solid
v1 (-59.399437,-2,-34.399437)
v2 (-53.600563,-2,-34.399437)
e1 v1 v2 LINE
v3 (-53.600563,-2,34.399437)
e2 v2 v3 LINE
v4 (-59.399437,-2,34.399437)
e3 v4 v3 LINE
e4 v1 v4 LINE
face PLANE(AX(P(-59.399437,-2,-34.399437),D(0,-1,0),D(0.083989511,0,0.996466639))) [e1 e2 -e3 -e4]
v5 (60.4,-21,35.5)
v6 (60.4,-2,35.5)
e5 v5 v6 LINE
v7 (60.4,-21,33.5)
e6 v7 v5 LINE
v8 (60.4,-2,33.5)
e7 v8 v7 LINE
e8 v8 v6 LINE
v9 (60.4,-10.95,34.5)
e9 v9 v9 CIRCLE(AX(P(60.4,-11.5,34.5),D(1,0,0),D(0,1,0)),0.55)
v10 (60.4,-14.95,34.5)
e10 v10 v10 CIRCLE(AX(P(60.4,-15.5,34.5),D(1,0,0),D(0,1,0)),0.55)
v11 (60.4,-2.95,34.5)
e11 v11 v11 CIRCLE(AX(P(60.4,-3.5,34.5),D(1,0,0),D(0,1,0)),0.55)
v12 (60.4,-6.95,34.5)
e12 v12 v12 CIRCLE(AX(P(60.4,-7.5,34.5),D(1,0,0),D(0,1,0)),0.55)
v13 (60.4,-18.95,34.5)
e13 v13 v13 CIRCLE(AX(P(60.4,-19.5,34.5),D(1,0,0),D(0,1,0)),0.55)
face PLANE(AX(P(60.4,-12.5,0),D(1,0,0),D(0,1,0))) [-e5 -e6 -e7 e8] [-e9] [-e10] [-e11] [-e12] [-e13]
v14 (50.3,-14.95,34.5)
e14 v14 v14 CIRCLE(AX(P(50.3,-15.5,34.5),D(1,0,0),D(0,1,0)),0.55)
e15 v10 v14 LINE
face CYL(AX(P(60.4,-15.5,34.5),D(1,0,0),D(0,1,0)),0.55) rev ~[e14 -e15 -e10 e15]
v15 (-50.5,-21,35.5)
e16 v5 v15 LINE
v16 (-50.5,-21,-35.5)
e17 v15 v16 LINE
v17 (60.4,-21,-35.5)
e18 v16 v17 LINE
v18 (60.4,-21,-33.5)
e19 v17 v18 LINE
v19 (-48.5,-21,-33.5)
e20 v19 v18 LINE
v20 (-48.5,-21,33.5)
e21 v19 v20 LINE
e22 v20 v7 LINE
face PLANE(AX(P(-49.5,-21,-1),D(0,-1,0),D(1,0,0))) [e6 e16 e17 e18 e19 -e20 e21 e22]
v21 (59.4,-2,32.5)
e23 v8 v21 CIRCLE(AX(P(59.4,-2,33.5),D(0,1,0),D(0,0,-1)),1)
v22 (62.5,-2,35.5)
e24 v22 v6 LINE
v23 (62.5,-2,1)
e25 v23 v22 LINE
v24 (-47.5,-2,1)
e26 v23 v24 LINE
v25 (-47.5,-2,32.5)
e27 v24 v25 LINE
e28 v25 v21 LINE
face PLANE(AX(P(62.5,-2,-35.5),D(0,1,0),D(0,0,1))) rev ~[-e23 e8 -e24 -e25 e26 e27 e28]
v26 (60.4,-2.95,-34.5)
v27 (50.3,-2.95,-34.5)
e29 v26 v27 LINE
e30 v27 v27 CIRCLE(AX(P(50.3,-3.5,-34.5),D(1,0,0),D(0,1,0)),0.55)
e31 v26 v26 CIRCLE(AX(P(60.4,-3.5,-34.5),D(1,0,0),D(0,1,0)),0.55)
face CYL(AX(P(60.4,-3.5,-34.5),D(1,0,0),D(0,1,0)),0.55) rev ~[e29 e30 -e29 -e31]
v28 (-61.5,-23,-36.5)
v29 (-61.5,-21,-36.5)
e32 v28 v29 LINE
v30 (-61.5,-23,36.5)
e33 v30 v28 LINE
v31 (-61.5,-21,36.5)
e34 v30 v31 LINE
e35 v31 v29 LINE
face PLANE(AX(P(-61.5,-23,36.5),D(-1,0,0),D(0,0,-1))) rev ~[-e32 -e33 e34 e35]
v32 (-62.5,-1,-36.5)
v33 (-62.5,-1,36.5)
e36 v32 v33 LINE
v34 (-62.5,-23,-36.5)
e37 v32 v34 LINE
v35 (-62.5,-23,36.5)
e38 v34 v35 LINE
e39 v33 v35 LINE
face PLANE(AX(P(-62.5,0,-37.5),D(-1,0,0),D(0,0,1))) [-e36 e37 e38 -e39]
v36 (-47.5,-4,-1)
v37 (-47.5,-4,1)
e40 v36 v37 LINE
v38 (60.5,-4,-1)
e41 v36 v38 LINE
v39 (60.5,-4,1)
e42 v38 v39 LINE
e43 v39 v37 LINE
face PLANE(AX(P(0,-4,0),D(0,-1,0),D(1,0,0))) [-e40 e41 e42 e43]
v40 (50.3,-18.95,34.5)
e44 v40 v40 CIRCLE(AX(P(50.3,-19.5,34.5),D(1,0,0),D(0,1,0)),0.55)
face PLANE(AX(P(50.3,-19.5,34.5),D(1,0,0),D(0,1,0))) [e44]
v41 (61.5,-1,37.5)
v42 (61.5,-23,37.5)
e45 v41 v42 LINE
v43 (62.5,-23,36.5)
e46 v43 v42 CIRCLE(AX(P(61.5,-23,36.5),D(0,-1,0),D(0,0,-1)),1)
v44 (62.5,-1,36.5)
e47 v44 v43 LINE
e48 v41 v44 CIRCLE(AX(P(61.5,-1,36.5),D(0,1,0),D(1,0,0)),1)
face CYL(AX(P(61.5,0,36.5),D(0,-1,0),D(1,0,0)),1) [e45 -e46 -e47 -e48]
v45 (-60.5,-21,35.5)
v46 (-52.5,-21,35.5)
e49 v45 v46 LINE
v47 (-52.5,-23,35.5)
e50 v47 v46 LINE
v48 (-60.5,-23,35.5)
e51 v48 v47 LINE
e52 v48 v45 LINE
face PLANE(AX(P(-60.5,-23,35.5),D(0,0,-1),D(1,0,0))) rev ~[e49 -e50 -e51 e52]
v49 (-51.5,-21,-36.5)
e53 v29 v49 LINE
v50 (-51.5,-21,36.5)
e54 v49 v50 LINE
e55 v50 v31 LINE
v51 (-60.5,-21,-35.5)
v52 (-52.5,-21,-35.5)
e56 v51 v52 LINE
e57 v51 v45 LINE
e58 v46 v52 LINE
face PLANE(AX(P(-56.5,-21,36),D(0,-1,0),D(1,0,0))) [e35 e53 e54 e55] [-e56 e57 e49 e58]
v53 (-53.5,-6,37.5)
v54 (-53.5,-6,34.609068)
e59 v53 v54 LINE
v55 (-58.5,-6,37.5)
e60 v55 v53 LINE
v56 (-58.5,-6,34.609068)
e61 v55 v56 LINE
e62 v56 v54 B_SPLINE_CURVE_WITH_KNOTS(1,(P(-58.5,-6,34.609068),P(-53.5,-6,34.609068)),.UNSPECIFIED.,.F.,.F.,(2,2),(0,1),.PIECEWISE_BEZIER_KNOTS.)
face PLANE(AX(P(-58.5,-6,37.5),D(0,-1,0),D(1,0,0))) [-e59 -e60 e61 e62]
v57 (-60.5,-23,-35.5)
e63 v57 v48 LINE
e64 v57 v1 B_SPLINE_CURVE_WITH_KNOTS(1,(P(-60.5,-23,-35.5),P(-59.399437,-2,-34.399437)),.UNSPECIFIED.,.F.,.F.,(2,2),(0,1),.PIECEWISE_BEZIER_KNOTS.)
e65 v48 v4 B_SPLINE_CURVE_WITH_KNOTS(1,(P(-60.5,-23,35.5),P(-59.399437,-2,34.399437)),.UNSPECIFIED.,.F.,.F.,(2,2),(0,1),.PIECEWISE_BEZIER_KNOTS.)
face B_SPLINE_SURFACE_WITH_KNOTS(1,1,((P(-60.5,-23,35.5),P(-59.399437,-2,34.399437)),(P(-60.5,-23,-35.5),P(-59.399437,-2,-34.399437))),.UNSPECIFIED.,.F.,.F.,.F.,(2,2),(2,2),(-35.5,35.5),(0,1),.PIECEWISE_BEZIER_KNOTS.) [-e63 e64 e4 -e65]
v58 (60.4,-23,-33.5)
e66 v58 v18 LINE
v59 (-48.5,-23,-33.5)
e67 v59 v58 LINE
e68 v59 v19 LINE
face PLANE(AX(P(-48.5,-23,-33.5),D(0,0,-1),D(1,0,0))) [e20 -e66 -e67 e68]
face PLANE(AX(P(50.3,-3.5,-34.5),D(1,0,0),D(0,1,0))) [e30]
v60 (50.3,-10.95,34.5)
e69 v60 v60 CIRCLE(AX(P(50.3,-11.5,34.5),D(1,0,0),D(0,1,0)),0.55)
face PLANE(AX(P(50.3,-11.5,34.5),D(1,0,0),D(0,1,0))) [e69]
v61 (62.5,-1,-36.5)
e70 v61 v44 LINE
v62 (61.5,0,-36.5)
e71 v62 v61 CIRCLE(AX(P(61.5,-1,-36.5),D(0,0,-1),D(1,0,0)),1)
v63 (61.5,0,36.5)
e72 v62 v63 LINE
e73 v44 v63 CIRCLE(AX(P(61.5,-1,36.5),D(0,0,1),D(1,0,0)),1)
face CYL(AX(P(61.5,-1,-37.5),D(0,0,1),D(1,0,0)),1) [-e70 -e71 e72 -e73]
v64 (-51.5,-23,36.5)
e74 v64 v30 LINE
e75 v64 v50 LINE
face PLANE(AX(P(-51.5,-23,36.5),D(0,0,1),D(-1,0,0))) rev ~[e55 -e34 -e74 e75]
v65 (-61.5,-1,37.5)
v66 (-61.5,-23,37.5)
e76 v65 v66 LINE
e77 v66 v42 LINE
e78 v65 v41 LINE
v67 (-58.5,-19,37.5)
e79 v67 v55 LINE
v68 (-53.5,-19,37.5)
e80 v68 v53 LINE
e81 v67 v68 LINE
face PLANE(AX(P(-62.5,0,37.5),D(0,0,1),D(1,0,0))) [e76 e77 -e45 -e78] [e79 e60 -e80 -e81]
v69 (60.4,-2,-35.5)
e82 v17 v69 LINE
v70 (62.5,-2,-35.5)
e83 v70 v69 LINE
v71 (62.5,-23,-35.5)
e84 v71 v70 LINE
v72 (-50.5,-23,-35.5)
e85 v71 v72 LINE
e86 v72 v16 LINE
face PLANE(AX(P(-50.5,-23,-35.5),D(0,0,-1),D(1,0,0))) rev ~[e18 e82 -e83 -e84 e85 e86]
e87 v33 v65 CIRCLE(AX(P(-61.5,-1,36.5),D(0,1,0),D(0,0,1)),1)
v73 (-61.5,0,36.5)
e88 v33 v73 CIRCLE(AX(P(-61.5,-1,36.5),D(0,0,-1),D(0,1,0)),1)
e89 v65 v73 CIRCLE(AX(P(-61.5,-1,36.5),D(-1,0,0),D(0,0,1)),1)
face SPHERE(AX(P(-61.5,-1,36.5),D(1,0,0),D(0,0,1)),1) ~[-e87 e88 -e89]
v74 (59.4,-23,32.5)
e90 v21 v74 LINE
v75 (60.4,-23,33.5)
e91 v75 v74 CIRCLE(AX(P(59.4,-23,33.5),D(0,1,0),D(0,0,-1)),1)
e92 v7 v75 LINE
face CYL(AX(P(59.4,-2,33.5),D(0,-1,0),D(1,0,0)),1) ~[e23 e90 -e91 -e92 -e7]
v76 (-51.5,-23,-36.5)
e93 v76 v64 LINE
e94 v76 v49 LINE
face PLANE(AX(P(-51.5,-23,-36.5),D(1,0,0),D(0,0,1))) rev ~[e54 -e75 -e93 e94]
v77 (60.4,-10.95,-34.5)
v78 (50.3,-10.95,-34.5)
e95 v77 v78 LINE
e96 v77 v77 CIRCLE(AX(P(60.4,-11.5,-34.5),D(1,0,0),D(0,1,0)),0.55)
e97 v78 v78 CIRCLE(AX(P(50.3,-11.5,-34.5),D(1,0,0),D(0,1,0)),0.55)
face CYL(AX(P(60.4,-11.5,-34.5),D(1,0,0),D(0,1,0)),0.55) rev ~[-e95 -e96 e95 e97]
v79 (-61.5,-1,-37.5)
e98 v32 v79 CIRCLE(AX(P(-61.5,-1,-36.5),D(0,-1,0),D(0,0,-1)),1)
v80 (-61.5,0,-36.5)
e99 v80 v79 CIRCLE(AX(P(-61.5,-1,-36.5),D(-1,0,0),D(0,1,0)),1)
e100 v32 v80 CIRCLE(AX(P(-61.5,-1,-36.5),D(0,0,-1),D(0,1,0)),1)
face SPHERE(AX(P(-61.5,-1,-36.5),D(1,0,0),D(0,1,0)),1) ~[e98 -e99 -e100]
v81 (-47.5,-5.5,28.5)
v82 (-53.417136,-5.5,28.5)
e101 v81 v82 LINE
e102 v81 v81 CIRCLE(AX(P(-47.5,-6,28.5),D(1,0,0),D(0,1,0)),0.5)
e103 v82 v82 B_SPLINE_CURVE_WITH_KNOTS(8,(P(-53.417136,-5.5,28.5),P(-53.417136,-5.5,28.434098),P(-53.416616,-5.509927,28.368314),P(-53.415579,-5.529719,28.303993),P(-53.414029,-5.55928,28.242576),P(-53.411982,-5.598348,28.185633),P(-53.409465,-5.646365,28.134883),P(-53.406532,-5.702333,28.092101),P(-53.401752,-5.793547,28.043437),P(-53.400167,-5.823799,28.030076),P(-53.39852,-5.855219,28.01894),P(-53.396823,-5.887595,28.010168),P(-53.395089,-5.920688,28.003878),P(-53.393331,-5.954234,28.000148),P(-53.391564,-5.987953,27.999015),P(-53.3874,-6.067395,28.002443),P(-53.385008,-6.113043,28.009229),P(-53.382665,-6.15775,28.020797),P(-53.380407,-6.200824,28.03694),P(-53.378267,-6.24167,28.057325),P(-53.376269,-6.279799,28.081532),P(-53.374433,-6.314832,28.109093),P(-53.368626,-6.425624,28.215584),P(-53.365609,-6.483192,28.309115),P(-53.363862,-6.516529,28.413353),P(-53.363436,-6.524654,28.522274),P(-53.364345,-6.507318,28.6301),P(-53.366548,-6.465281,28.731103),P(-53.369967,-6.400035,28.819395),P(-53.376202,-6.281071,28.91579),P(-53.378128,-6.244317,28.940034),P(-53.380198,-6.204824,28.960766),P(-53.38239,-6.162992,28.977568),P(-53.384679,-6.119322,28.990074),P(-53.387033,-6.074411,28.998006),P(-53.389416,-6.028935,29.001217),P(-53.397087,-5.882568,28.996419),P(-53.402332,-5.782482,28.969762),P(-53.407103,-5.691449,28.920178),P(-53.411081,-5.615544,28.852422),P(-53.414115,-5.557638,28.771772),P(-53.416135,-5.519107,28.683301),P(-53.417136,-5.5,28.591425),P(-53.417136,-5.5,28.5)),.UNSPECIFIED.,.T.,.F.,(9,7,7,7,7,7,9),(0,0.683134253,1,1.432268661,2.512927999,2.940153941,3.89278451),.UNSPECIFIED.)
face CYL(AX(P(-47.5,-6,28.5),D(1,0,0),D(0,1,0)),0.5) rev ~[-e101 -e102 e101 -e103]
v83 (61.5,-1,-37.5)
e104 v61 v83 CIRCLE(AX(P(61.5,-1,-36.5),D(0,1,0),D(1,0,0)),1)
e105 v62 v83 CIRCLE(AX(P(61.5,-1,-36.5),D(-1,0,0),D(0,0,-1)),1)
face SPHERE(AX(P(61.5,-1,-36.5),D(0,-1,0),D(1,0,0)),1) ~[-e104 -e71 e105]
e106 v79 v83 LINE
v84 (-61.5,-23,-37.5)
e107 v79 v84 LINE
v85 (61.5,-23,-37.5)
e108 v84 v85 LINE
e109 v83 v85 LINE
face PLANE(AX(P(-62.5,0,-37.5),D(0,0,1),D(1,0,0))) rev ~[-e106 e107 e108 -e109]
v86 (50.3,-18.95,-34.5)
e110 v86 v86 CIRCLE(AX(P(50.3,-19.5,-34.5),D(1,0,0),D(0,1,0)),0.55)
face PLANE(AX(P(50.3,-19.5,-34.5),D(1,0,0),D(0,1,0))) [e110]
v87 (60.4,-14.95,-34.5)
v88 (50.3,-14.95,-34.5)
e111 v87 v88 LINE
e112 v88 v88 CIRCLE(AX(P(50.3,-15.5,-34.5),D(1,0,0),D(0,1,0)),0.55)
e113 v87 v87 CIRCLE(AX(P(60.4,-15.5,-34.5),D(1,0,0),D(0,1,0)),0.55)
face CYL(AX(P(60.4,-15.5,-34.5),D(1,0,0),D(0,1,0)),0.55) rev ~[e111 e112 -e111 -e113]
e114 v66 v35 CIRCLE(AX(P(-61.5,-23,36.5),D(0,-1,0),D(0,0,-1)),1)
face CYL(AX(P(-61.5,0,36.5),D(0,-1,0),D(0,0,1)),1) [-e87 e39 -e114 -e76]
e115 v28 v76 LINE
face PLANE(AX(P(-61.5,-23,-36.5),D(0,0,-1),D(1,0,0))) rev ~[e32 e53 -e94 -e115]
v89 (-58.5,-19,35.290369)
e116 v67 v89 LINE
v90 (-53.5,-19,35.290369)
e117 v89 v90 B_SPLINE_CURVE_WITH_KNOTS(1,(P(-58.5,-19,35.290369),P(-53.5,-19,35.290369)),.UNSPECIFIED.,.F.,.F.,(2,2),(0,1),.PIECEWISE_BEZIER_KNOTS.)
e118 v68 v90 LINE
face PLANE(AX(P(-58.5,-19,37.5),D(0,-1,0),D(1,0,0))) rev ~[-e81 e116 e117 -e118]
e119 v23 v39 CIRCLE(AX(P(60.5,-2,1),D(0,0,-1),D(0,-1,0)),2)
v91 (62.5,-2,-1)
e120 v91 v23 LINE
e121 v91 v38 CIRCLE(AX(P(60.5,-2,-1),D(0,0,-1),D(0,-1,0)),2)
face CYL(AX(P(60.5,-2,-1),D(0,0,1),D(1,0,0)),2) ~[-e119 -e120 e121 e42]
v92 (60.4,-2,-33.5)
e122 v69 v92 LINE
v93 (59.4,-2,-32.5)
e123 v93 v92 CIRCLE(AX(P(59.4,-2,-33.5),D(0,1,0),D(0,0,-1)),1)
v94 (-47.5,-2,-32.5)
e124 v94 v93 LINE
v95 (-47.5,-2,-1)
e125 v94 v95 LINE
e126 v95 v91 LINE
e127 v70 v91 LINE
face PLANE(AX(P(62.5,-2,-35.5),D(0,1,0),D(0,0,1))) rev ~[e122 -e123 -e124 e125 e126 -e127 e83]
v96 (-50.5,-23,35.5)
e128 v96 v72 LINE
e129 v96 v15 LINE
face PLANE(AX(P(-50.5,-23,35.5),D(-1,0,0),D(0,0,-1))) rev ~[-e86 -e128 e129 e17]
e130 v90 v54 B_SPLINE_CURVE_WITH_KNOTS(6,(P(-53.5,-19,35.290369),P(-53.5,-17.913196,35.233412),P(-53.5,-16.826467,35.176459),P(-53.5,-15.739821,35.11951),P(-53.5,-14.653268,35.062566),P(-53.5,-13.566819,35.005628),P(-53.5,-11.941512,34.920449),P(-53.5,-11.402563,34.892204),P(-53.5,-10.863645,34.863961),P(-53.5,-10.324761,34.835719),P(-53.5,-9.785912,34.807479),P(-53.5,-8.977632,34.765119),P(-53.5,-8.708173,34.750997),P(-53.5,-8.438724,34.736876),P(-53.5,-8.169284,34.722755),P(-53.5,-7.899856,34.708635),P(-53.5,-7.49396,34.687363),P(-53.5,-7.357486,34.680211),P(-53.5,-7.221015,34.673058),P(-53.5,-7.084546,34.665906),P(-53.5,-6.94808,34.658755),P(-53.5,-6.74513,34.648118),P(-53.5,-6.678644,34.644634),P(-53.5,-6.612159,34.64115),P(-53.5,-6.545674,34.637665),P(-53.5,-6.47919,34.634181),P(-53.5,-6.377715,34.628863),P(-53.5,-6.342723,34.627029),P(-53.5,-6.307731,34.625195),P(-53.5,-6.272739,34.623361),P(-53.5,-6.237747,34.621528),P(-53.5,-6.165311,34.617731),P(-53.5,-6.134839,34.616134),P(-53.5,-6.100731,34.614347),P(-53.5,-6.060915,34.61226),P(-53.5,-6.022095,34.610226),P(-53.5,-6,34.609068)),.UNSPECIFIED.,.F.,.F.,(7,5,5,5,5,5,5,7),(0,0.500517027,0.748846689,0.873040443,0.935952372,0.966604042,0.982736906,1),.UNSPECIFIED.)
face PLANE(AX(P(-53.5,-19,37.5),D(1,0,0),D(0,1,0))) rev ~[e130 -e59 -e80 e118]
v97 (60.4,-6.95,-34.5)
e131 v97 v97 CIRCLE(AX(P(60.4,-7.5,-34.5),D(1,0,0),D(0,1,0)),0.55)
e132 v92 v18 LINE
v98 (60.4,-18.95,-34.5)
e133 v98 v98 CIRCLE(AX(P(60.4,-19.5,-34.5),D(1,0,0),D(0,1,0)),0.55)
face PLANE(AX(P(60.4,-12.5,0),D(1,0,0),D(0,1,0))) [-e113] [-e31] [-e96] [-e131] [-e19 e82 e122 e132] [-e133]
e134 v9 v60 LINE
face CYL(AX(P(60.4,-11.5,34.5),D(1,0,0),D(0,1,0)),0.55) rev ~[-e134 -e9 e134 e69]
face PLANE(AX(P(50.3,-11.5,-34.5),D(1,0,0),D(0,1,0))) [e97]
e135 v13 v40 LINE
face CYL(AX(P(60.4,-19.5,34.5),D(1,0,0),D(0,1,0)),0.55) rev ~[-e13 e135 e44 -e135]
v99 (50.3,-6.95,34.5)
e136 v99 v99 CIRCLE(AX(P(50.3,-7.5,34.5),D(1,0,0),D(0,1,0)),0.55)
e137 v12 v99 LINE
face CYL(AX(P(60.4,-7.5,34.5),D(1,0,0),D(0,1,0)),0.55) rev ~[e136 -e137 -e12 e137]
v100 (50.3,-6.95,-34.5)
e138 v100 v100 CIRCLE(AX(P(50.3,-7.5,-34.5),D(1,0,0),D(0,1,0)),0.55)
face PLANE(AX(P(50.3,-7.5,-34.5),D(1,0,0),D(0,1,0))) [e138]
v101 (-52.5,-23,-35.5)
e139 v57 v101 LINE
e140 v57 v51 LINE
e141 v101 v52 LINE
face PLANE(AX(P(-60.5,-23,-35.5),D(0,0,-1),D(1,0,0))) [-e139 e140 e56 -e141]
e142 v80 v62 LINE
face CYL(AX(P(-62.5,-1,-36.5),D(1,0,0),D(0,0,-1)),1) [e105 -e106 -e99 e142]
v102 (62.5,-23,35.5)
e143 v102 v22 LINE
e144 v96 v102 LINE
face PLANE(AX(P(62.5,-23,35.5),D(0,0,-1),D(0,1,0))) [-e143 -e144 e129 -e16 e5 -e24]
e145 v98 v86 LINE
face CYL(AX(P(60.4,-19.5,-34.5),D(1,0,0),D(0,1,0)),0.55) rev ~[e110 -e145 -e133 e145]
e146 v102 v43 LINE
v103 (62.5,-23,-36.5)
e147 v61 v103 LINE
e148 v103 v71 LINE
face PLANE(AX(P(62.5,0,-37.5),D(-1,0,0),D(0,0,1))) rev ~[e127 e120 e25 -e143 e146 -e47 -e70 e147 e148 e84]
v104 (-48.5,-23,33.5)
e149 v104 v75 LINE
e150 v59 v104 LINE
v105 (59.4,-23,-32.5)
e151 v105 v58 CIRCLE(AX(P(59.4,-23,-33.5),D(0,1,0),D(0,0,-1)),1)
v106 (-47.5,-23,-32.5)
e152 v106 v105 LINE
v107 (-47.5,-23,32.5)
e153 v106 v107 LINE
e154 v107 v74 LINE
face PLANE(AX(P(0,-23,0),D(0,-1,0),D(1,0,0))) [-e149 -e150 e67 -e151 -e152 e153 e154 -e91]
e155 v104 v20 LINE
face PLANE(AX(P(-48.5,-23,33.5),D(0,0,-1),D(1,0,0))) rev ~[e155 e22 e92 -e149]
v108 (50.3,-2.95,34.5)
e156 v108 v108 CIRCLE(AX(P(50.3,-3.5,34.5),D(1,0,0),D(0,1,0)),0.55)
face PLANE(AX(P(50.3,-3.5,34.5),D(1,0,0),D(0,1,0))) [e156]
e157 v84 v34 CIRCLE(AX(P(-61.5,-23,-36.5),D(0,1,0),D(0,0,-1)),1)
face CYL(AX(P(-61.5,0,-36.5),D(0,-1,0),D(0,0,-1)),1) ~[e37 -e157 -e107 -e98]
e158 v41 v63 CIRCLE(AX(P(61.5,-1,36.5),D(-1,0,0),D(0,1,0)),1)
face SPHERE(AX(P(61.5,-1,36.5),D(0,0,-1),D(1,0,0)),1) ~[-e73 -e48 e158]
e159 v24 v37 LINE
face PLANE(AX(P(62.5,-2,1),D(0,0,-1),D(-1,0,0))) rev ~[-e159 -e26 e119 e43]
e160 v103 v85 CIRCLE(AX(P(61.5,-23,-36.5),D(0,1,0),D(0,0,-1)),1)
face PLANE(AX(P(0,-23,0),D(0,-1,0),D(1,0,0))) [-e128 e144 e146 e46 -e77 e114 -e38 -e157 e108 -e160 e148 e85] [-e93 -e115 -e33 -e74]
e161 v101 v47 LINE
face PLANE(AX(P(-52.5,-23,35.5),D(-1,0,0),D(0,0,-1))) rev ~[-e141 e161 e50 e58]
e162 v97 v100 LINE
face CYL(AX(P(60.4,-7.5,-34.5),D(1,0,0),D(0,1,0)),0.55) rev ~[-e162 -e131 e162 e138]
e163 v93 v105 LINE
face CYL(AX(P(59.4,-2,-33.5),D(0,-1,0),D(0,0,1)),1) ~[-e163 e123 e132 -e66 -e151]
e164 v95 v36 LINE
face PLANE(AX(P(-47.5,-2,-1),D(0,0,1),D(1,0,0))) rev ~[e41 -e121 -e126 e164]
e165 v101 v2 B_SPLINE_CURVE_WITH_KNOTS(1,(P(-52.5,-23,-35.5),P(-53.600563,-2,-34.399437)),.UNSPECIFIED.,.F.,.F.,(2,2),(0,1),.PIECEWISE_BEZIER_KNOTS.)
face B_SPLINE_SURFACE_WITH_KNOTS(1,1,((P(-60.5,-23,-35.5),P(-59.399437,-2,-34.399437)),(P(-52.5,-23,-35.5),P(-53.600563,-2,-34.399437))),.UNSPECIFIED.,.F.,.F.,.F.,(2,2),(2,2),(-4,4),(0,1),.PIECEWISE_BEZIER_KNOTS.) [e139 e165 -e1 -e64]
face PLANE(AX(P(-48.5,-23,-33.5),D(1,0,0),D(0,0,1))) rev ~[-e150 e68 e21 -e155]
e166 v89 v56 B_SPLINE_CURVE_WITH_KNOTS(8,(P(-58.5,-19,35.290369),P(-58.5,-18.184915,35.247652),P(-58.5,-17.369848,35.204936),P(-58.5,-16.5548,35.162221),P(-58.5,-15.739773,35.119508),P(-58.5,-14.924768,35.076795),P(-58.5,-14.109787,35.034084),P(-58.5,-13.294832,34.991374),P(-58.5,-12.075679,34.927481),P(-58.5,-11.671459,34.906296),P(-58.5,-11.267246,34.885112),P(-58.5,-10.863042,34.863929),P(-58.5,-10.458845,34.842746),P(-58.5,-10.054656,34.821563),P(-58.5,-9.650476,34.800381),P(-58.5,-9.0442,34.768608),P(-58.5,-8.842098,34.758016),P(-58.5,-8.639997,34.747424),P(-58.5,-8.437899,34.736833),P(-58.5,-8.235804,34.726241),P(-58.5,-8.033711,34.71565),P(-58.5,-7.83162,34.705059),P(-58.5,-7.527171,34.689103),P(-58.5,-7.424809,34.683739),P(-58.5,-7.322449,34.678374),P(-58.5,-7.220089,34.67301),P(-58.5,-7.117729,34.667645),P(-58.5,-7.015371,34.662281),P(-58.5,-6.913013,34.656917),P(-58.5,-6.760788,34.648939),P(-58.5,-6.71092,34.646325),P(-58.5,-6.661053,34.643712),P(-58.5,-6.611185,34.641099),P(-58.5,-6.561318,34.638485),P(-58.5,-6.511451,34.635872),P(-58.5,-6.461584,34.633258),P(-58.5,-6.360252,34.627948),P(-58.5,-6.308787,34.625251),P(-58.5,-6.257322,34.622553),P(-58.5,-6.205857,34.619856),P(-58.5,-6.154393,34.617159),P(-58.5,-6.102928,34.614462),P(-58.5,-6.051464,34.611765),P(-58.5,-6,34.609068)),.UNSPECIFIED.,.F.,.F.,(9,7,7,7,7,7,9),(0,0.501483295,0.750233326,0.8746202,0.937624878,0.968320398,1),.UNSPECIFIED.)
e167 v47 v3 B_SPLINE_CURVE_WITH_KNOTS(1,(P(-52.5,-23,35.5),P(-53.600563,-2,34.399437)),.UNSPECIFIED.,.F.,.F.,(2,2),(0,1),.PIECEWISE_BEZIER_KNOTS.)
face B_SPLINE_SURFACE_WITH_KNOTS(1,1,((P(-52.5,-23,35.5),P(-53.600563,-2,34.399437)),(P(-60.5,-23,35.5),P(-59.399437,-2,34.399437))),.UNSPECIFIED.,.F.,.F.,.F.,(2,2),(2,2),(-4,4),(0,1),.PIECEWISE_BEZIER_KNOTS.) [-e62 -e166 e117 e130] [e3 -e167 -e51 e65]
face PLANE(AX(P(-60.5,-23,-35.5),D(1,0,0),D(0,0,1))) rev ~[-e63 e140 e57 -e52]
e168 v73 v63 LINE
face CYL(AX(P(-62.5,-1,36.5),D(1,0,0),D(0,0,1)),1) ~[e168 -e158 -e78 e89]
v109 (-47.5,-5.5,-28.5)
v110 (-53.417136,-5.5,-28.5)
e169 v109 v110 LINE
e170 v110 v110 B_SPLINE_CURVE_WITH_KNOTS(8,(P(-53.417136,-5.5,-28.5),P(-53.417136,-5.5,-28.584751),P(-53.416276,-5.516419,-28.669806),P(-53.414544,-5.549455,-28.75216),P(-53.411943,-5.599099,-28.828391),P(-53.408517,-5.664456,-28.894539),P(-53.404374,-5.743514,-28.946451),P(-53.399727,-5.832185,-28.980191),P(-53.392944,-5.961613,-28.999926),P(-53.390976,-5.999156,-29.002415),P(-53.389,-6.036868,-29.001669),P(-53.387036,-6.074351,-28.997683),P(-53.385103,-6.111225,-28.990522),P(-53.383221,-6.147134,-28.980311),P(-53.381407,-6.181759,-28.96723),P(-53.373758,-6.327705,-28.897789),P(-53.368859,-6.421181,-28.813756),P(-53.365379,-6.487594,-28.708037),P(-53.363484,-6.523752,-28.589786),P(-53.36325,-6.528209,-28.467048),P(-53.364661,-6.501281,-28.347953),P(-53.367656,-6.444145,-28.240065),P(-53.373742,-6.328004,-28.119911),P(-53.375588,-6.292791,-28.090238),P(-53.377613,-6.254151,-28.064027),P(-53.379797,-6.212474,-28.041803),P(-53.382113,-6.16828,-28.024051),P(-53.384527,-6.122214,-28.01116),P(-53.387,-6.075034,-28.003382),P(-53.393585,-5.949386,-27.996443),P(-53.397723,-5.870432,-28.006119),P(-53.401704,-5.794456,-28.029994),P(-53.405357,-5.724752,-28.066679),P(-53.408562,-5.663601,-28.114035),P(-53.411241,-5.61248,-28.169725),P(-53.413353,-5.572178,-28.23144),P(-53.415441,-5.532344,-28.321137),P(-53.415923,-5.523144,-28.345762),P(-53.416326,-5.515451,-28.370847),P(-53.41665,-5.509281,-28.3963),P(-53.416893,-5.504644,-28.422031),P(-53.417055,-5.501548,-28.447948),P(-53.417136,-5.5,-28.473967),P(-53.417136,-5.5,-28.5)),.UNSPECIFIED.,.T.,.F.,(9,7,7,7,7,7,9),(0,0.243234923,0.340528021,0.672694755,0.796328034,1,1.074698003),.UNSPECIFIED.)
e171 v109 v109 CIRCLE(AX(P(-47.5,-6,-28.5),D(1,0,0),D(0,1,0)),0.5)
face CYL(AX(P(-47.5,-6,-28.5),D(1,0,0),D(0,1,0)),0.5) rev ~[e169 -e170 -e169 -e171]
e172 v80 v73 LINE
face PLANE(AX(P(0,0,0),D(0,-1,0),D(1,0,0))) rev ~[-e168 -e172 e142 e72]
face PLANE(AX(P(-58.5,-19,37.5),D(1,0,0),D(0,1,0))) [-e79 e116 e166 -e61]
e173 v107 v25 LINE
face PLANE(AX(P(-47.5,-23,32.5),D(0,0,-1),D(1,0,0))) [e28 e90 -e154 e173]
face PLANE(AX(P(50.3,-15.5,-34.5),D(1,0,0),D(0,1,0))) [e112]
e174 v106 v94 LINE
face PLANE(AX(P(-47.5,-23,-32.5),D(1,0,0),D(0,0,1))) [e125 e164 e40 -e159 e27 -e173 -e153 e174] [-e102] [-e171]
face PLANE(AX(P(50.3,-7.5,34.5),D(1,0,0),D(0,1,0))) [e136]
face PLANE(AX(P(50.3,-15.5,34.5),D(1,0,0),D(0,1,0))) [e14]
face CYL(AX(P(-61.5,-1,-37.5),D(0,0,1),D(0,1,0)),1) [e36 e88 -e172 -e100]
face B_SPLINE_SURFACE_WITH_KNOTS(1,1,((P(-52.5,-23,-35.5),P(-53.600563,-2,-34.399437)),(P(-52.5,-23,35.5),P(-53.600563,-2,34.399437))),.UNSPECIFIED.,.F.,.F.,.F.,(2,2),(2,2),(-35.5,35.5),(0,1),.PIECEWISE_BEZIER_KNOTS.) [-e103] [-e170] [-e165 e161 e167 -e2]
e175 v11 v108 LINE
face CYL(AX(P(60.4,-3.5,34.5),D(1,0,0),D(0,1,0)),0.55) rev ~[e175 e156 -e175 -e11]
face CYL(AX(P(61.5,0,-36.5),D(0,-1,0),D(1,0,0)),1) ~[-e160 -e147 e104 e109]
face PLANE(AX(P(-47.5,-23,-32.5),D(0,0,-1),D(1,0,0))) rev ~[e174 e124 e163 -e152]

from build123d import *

# Parameters (mm, degrees)
F0_W      = 125
F0_H      = 75
F1_DEPTH  = 23
F2_W      = 108
F2_H      = 65
F3_DEPTH  = 21
F4_W      = 8
F4_H      = 71
F5_DEPTH  = 21
F5_TAPER  = 3
F6_W      = 21
F6_H      = 71
F7_DEPTH  = 2.1
F8_W      = 108.9
F8_H      = 2
F9_DEPTH  = 2
F10_W     = 95
F10_H     = 2
F10_W_2   = 15
F11_DEPTH = 2
F12_R     = 2
F13_R     = 1
F14_R     = 1
F15_W     = 8
F15_H     = 1
F16_DEPTH = 2
F17_R     = 0.55
F18_DEPTH = 10.1
F19_R     = 0.55
F20_DEPTH = 10.1
F21_R     = 0.5
F22_DEPTH = 8
F23_W     = 5
F23_H     = 13
F24_DEPTH = 3


with BuildPart() as f1:
    # F0 (on Front) → F1 (new body)
    with BuildSketch(Plane.XZ):
        Rectangle(F0_W, F0_H)
    extrude(amount=F1_DEPTH)

    # F2 (on face) → F3 (cut)
    with BuildSketch(Plane.XZ.offset(23)):
        with Locations((6.5, 0)):
            Rectangle(F2_W, F2_H)
    extrude(amount=-F3_DEPTH, mode=Mode.SUBTRACT)

    # F4 (on face) → F5 (cut)
    with BuildSketch(Plane.XZ.offset(23)):
        with Locations((-56.5, 0)):
            Rectangle(F4_W, F4_H)
    extrude(amount=-F5_DEPTH, taper=F5_TAPER, mode=Mode.SUBTRACT)

    # F6 (on face) → F7 (cut)
    with BuildSketch(Plane.YZ.offset(62.5)):
        with Locations((-12.5, 0)):
            Rectangle(F6_W, F6_H)
    extrude(amount=-F7_DEPTH, mode=Mode.SUBTRACT)

    # F8 (on face) → F9 (cut)
    with BuildSketch(Plane.XZ.offset(23)):
        Polygon((-48.5, 33.5), (-50.5, 33.5), (-50.5, -35.5), (-48.5, -35.5), (-48.5, -33.5), align=None)
        Polygon((60.4, 33.5), (60.4, 35.5), (-50.5, 35.5), (-50.5, 33.5), (-48.5, 33.5), align=None)
        with Locations((5.95, -34.5)):
            Rectangle(F8_W, F8_H)
    extrude(amount=-F9_DEPTH, mode=Mode.SUBTRACT)

    # F10 (on face) → F11 (join)
    with BuildSketch(Plane.XZ.offset(2)):
        Rectangle(F10_W, F10_H)
        with Locations((55, 0)):
            Rectangle(F10_W_2, F10_H)
    extrude(amount=F11_DEPTH)

    # F12
    f12_edges = [f1.edges().sort_by_distance(p)[0] for p in [
        (62.5, -4, 0),
    ]]
    fillet(f12_edges, radius=F12_R)

    # F13
    f13_edges = [f1.edges().sort_by_distance(p)[0] for p in [
        (60.4, -12.5, 32.5),
        (60.4, -12.5, -32.5),
    ]]
    fillet(f13_edges, radius=F13_R)

    # F14
    f14_edges = [f1.edges().sort_by_distance(p)[0] for p in [
        (62.5, -11.5, -37.5),
        (62.5, 0, 0),
        (0, 0, -37.5),
        (62.5, -11.5, 37.5),
        (0, 0, 37.5),
        (-62.5, -11.5, 37.5),
        (-62.5, 0, 0),
        (-62.5, -11.5, -37.5),
    ]]
    fillet(f14_edges, radius=F14_R)

    # F15 (on face) → F16 (cut)
    with BuildSketch(Plane.XZ.offset(23)):
        with Locations((-56.5, 36)):
            Rectangle(F15_W, F15_H)
        Polygon((-60.5, -35.5), (-60.5, 35.5), (-60.5, 36.5), (-61.5, 36.5), (-61.5, -36.5), (-60.5, -36.5), align=None)
        Polygon((-52.5, 36.5), (-52.5, 35.5), (-52.5, -35.5), (-52.5, -36.5), (-51.5, -36.5), (-51.5, 36.5), align=None)
        with Locations((-56.5, -36)):
            Rectangle(F15_W, F15_H)
    extrude(amount=-F16_DEPTH, mode=Mode.SUBTRACT)

    # F17 (on face) → F18 (cut)
    with BuildSketch(Plane.YZ.offset(60.4)):
        with Locations((-19.5, -34.5)):
            Circle(F17_R)
        with Locations((-15.5, -34.5)):
            Circle(F17_R)
        with Locations((-11.5, -34.5)):
            Circle(F17_R)
        with Locations((-3.5, -34.5)):
            Circle(F17_R)
        with Locations((-7.5, -34.5)):
            Circle(F17_R)
    extrude(amount=-F18_DEPTH, mode=Mode.SUBTRACT)

    # F19 (on face) → F20 (cut)
    with BuildSketch(Plane.YZ.offset(60.4)):
        with Locations((-19.5, 34.5)):
            Circle(F19_R)
        with Locations((-15.5, 34.5)):
            Circle(F19_R)
        with Locations((-11.5, 34.5)):
            Circle(F19_R)
        with Locations((-7.5, 34.5)):
            Circle(F19_R)
        with Locations((-3.5, 34.5)):
            Circle(F19_R)
    extrude(amount=-F20_DEPTH, mode=Mode.SUBTRACT)

    # F21 (on face) → F22 (cut)
    with BuildSketch(Plane.YZ.offset(-47.5)):
        with Locations((-6, -28.5)):
            Circle(F21_R)
        with Locations((-6, 28.5)):
            Circle(F21_R)
    extrude(amount=-F22_DEPTH, mode=Mode.SUBTRACT)

    # F23 (on face) → F24 (cut)
    with BuildSketch(Plane.XY.offset(37.5)):
        with Locations((-56, -12.5)):
            Rectangle(F23_W, F23_H)
    extrude(amount=-F24_DEPTH, mode=Mode.SUBTRACT)


solid = f1.part
